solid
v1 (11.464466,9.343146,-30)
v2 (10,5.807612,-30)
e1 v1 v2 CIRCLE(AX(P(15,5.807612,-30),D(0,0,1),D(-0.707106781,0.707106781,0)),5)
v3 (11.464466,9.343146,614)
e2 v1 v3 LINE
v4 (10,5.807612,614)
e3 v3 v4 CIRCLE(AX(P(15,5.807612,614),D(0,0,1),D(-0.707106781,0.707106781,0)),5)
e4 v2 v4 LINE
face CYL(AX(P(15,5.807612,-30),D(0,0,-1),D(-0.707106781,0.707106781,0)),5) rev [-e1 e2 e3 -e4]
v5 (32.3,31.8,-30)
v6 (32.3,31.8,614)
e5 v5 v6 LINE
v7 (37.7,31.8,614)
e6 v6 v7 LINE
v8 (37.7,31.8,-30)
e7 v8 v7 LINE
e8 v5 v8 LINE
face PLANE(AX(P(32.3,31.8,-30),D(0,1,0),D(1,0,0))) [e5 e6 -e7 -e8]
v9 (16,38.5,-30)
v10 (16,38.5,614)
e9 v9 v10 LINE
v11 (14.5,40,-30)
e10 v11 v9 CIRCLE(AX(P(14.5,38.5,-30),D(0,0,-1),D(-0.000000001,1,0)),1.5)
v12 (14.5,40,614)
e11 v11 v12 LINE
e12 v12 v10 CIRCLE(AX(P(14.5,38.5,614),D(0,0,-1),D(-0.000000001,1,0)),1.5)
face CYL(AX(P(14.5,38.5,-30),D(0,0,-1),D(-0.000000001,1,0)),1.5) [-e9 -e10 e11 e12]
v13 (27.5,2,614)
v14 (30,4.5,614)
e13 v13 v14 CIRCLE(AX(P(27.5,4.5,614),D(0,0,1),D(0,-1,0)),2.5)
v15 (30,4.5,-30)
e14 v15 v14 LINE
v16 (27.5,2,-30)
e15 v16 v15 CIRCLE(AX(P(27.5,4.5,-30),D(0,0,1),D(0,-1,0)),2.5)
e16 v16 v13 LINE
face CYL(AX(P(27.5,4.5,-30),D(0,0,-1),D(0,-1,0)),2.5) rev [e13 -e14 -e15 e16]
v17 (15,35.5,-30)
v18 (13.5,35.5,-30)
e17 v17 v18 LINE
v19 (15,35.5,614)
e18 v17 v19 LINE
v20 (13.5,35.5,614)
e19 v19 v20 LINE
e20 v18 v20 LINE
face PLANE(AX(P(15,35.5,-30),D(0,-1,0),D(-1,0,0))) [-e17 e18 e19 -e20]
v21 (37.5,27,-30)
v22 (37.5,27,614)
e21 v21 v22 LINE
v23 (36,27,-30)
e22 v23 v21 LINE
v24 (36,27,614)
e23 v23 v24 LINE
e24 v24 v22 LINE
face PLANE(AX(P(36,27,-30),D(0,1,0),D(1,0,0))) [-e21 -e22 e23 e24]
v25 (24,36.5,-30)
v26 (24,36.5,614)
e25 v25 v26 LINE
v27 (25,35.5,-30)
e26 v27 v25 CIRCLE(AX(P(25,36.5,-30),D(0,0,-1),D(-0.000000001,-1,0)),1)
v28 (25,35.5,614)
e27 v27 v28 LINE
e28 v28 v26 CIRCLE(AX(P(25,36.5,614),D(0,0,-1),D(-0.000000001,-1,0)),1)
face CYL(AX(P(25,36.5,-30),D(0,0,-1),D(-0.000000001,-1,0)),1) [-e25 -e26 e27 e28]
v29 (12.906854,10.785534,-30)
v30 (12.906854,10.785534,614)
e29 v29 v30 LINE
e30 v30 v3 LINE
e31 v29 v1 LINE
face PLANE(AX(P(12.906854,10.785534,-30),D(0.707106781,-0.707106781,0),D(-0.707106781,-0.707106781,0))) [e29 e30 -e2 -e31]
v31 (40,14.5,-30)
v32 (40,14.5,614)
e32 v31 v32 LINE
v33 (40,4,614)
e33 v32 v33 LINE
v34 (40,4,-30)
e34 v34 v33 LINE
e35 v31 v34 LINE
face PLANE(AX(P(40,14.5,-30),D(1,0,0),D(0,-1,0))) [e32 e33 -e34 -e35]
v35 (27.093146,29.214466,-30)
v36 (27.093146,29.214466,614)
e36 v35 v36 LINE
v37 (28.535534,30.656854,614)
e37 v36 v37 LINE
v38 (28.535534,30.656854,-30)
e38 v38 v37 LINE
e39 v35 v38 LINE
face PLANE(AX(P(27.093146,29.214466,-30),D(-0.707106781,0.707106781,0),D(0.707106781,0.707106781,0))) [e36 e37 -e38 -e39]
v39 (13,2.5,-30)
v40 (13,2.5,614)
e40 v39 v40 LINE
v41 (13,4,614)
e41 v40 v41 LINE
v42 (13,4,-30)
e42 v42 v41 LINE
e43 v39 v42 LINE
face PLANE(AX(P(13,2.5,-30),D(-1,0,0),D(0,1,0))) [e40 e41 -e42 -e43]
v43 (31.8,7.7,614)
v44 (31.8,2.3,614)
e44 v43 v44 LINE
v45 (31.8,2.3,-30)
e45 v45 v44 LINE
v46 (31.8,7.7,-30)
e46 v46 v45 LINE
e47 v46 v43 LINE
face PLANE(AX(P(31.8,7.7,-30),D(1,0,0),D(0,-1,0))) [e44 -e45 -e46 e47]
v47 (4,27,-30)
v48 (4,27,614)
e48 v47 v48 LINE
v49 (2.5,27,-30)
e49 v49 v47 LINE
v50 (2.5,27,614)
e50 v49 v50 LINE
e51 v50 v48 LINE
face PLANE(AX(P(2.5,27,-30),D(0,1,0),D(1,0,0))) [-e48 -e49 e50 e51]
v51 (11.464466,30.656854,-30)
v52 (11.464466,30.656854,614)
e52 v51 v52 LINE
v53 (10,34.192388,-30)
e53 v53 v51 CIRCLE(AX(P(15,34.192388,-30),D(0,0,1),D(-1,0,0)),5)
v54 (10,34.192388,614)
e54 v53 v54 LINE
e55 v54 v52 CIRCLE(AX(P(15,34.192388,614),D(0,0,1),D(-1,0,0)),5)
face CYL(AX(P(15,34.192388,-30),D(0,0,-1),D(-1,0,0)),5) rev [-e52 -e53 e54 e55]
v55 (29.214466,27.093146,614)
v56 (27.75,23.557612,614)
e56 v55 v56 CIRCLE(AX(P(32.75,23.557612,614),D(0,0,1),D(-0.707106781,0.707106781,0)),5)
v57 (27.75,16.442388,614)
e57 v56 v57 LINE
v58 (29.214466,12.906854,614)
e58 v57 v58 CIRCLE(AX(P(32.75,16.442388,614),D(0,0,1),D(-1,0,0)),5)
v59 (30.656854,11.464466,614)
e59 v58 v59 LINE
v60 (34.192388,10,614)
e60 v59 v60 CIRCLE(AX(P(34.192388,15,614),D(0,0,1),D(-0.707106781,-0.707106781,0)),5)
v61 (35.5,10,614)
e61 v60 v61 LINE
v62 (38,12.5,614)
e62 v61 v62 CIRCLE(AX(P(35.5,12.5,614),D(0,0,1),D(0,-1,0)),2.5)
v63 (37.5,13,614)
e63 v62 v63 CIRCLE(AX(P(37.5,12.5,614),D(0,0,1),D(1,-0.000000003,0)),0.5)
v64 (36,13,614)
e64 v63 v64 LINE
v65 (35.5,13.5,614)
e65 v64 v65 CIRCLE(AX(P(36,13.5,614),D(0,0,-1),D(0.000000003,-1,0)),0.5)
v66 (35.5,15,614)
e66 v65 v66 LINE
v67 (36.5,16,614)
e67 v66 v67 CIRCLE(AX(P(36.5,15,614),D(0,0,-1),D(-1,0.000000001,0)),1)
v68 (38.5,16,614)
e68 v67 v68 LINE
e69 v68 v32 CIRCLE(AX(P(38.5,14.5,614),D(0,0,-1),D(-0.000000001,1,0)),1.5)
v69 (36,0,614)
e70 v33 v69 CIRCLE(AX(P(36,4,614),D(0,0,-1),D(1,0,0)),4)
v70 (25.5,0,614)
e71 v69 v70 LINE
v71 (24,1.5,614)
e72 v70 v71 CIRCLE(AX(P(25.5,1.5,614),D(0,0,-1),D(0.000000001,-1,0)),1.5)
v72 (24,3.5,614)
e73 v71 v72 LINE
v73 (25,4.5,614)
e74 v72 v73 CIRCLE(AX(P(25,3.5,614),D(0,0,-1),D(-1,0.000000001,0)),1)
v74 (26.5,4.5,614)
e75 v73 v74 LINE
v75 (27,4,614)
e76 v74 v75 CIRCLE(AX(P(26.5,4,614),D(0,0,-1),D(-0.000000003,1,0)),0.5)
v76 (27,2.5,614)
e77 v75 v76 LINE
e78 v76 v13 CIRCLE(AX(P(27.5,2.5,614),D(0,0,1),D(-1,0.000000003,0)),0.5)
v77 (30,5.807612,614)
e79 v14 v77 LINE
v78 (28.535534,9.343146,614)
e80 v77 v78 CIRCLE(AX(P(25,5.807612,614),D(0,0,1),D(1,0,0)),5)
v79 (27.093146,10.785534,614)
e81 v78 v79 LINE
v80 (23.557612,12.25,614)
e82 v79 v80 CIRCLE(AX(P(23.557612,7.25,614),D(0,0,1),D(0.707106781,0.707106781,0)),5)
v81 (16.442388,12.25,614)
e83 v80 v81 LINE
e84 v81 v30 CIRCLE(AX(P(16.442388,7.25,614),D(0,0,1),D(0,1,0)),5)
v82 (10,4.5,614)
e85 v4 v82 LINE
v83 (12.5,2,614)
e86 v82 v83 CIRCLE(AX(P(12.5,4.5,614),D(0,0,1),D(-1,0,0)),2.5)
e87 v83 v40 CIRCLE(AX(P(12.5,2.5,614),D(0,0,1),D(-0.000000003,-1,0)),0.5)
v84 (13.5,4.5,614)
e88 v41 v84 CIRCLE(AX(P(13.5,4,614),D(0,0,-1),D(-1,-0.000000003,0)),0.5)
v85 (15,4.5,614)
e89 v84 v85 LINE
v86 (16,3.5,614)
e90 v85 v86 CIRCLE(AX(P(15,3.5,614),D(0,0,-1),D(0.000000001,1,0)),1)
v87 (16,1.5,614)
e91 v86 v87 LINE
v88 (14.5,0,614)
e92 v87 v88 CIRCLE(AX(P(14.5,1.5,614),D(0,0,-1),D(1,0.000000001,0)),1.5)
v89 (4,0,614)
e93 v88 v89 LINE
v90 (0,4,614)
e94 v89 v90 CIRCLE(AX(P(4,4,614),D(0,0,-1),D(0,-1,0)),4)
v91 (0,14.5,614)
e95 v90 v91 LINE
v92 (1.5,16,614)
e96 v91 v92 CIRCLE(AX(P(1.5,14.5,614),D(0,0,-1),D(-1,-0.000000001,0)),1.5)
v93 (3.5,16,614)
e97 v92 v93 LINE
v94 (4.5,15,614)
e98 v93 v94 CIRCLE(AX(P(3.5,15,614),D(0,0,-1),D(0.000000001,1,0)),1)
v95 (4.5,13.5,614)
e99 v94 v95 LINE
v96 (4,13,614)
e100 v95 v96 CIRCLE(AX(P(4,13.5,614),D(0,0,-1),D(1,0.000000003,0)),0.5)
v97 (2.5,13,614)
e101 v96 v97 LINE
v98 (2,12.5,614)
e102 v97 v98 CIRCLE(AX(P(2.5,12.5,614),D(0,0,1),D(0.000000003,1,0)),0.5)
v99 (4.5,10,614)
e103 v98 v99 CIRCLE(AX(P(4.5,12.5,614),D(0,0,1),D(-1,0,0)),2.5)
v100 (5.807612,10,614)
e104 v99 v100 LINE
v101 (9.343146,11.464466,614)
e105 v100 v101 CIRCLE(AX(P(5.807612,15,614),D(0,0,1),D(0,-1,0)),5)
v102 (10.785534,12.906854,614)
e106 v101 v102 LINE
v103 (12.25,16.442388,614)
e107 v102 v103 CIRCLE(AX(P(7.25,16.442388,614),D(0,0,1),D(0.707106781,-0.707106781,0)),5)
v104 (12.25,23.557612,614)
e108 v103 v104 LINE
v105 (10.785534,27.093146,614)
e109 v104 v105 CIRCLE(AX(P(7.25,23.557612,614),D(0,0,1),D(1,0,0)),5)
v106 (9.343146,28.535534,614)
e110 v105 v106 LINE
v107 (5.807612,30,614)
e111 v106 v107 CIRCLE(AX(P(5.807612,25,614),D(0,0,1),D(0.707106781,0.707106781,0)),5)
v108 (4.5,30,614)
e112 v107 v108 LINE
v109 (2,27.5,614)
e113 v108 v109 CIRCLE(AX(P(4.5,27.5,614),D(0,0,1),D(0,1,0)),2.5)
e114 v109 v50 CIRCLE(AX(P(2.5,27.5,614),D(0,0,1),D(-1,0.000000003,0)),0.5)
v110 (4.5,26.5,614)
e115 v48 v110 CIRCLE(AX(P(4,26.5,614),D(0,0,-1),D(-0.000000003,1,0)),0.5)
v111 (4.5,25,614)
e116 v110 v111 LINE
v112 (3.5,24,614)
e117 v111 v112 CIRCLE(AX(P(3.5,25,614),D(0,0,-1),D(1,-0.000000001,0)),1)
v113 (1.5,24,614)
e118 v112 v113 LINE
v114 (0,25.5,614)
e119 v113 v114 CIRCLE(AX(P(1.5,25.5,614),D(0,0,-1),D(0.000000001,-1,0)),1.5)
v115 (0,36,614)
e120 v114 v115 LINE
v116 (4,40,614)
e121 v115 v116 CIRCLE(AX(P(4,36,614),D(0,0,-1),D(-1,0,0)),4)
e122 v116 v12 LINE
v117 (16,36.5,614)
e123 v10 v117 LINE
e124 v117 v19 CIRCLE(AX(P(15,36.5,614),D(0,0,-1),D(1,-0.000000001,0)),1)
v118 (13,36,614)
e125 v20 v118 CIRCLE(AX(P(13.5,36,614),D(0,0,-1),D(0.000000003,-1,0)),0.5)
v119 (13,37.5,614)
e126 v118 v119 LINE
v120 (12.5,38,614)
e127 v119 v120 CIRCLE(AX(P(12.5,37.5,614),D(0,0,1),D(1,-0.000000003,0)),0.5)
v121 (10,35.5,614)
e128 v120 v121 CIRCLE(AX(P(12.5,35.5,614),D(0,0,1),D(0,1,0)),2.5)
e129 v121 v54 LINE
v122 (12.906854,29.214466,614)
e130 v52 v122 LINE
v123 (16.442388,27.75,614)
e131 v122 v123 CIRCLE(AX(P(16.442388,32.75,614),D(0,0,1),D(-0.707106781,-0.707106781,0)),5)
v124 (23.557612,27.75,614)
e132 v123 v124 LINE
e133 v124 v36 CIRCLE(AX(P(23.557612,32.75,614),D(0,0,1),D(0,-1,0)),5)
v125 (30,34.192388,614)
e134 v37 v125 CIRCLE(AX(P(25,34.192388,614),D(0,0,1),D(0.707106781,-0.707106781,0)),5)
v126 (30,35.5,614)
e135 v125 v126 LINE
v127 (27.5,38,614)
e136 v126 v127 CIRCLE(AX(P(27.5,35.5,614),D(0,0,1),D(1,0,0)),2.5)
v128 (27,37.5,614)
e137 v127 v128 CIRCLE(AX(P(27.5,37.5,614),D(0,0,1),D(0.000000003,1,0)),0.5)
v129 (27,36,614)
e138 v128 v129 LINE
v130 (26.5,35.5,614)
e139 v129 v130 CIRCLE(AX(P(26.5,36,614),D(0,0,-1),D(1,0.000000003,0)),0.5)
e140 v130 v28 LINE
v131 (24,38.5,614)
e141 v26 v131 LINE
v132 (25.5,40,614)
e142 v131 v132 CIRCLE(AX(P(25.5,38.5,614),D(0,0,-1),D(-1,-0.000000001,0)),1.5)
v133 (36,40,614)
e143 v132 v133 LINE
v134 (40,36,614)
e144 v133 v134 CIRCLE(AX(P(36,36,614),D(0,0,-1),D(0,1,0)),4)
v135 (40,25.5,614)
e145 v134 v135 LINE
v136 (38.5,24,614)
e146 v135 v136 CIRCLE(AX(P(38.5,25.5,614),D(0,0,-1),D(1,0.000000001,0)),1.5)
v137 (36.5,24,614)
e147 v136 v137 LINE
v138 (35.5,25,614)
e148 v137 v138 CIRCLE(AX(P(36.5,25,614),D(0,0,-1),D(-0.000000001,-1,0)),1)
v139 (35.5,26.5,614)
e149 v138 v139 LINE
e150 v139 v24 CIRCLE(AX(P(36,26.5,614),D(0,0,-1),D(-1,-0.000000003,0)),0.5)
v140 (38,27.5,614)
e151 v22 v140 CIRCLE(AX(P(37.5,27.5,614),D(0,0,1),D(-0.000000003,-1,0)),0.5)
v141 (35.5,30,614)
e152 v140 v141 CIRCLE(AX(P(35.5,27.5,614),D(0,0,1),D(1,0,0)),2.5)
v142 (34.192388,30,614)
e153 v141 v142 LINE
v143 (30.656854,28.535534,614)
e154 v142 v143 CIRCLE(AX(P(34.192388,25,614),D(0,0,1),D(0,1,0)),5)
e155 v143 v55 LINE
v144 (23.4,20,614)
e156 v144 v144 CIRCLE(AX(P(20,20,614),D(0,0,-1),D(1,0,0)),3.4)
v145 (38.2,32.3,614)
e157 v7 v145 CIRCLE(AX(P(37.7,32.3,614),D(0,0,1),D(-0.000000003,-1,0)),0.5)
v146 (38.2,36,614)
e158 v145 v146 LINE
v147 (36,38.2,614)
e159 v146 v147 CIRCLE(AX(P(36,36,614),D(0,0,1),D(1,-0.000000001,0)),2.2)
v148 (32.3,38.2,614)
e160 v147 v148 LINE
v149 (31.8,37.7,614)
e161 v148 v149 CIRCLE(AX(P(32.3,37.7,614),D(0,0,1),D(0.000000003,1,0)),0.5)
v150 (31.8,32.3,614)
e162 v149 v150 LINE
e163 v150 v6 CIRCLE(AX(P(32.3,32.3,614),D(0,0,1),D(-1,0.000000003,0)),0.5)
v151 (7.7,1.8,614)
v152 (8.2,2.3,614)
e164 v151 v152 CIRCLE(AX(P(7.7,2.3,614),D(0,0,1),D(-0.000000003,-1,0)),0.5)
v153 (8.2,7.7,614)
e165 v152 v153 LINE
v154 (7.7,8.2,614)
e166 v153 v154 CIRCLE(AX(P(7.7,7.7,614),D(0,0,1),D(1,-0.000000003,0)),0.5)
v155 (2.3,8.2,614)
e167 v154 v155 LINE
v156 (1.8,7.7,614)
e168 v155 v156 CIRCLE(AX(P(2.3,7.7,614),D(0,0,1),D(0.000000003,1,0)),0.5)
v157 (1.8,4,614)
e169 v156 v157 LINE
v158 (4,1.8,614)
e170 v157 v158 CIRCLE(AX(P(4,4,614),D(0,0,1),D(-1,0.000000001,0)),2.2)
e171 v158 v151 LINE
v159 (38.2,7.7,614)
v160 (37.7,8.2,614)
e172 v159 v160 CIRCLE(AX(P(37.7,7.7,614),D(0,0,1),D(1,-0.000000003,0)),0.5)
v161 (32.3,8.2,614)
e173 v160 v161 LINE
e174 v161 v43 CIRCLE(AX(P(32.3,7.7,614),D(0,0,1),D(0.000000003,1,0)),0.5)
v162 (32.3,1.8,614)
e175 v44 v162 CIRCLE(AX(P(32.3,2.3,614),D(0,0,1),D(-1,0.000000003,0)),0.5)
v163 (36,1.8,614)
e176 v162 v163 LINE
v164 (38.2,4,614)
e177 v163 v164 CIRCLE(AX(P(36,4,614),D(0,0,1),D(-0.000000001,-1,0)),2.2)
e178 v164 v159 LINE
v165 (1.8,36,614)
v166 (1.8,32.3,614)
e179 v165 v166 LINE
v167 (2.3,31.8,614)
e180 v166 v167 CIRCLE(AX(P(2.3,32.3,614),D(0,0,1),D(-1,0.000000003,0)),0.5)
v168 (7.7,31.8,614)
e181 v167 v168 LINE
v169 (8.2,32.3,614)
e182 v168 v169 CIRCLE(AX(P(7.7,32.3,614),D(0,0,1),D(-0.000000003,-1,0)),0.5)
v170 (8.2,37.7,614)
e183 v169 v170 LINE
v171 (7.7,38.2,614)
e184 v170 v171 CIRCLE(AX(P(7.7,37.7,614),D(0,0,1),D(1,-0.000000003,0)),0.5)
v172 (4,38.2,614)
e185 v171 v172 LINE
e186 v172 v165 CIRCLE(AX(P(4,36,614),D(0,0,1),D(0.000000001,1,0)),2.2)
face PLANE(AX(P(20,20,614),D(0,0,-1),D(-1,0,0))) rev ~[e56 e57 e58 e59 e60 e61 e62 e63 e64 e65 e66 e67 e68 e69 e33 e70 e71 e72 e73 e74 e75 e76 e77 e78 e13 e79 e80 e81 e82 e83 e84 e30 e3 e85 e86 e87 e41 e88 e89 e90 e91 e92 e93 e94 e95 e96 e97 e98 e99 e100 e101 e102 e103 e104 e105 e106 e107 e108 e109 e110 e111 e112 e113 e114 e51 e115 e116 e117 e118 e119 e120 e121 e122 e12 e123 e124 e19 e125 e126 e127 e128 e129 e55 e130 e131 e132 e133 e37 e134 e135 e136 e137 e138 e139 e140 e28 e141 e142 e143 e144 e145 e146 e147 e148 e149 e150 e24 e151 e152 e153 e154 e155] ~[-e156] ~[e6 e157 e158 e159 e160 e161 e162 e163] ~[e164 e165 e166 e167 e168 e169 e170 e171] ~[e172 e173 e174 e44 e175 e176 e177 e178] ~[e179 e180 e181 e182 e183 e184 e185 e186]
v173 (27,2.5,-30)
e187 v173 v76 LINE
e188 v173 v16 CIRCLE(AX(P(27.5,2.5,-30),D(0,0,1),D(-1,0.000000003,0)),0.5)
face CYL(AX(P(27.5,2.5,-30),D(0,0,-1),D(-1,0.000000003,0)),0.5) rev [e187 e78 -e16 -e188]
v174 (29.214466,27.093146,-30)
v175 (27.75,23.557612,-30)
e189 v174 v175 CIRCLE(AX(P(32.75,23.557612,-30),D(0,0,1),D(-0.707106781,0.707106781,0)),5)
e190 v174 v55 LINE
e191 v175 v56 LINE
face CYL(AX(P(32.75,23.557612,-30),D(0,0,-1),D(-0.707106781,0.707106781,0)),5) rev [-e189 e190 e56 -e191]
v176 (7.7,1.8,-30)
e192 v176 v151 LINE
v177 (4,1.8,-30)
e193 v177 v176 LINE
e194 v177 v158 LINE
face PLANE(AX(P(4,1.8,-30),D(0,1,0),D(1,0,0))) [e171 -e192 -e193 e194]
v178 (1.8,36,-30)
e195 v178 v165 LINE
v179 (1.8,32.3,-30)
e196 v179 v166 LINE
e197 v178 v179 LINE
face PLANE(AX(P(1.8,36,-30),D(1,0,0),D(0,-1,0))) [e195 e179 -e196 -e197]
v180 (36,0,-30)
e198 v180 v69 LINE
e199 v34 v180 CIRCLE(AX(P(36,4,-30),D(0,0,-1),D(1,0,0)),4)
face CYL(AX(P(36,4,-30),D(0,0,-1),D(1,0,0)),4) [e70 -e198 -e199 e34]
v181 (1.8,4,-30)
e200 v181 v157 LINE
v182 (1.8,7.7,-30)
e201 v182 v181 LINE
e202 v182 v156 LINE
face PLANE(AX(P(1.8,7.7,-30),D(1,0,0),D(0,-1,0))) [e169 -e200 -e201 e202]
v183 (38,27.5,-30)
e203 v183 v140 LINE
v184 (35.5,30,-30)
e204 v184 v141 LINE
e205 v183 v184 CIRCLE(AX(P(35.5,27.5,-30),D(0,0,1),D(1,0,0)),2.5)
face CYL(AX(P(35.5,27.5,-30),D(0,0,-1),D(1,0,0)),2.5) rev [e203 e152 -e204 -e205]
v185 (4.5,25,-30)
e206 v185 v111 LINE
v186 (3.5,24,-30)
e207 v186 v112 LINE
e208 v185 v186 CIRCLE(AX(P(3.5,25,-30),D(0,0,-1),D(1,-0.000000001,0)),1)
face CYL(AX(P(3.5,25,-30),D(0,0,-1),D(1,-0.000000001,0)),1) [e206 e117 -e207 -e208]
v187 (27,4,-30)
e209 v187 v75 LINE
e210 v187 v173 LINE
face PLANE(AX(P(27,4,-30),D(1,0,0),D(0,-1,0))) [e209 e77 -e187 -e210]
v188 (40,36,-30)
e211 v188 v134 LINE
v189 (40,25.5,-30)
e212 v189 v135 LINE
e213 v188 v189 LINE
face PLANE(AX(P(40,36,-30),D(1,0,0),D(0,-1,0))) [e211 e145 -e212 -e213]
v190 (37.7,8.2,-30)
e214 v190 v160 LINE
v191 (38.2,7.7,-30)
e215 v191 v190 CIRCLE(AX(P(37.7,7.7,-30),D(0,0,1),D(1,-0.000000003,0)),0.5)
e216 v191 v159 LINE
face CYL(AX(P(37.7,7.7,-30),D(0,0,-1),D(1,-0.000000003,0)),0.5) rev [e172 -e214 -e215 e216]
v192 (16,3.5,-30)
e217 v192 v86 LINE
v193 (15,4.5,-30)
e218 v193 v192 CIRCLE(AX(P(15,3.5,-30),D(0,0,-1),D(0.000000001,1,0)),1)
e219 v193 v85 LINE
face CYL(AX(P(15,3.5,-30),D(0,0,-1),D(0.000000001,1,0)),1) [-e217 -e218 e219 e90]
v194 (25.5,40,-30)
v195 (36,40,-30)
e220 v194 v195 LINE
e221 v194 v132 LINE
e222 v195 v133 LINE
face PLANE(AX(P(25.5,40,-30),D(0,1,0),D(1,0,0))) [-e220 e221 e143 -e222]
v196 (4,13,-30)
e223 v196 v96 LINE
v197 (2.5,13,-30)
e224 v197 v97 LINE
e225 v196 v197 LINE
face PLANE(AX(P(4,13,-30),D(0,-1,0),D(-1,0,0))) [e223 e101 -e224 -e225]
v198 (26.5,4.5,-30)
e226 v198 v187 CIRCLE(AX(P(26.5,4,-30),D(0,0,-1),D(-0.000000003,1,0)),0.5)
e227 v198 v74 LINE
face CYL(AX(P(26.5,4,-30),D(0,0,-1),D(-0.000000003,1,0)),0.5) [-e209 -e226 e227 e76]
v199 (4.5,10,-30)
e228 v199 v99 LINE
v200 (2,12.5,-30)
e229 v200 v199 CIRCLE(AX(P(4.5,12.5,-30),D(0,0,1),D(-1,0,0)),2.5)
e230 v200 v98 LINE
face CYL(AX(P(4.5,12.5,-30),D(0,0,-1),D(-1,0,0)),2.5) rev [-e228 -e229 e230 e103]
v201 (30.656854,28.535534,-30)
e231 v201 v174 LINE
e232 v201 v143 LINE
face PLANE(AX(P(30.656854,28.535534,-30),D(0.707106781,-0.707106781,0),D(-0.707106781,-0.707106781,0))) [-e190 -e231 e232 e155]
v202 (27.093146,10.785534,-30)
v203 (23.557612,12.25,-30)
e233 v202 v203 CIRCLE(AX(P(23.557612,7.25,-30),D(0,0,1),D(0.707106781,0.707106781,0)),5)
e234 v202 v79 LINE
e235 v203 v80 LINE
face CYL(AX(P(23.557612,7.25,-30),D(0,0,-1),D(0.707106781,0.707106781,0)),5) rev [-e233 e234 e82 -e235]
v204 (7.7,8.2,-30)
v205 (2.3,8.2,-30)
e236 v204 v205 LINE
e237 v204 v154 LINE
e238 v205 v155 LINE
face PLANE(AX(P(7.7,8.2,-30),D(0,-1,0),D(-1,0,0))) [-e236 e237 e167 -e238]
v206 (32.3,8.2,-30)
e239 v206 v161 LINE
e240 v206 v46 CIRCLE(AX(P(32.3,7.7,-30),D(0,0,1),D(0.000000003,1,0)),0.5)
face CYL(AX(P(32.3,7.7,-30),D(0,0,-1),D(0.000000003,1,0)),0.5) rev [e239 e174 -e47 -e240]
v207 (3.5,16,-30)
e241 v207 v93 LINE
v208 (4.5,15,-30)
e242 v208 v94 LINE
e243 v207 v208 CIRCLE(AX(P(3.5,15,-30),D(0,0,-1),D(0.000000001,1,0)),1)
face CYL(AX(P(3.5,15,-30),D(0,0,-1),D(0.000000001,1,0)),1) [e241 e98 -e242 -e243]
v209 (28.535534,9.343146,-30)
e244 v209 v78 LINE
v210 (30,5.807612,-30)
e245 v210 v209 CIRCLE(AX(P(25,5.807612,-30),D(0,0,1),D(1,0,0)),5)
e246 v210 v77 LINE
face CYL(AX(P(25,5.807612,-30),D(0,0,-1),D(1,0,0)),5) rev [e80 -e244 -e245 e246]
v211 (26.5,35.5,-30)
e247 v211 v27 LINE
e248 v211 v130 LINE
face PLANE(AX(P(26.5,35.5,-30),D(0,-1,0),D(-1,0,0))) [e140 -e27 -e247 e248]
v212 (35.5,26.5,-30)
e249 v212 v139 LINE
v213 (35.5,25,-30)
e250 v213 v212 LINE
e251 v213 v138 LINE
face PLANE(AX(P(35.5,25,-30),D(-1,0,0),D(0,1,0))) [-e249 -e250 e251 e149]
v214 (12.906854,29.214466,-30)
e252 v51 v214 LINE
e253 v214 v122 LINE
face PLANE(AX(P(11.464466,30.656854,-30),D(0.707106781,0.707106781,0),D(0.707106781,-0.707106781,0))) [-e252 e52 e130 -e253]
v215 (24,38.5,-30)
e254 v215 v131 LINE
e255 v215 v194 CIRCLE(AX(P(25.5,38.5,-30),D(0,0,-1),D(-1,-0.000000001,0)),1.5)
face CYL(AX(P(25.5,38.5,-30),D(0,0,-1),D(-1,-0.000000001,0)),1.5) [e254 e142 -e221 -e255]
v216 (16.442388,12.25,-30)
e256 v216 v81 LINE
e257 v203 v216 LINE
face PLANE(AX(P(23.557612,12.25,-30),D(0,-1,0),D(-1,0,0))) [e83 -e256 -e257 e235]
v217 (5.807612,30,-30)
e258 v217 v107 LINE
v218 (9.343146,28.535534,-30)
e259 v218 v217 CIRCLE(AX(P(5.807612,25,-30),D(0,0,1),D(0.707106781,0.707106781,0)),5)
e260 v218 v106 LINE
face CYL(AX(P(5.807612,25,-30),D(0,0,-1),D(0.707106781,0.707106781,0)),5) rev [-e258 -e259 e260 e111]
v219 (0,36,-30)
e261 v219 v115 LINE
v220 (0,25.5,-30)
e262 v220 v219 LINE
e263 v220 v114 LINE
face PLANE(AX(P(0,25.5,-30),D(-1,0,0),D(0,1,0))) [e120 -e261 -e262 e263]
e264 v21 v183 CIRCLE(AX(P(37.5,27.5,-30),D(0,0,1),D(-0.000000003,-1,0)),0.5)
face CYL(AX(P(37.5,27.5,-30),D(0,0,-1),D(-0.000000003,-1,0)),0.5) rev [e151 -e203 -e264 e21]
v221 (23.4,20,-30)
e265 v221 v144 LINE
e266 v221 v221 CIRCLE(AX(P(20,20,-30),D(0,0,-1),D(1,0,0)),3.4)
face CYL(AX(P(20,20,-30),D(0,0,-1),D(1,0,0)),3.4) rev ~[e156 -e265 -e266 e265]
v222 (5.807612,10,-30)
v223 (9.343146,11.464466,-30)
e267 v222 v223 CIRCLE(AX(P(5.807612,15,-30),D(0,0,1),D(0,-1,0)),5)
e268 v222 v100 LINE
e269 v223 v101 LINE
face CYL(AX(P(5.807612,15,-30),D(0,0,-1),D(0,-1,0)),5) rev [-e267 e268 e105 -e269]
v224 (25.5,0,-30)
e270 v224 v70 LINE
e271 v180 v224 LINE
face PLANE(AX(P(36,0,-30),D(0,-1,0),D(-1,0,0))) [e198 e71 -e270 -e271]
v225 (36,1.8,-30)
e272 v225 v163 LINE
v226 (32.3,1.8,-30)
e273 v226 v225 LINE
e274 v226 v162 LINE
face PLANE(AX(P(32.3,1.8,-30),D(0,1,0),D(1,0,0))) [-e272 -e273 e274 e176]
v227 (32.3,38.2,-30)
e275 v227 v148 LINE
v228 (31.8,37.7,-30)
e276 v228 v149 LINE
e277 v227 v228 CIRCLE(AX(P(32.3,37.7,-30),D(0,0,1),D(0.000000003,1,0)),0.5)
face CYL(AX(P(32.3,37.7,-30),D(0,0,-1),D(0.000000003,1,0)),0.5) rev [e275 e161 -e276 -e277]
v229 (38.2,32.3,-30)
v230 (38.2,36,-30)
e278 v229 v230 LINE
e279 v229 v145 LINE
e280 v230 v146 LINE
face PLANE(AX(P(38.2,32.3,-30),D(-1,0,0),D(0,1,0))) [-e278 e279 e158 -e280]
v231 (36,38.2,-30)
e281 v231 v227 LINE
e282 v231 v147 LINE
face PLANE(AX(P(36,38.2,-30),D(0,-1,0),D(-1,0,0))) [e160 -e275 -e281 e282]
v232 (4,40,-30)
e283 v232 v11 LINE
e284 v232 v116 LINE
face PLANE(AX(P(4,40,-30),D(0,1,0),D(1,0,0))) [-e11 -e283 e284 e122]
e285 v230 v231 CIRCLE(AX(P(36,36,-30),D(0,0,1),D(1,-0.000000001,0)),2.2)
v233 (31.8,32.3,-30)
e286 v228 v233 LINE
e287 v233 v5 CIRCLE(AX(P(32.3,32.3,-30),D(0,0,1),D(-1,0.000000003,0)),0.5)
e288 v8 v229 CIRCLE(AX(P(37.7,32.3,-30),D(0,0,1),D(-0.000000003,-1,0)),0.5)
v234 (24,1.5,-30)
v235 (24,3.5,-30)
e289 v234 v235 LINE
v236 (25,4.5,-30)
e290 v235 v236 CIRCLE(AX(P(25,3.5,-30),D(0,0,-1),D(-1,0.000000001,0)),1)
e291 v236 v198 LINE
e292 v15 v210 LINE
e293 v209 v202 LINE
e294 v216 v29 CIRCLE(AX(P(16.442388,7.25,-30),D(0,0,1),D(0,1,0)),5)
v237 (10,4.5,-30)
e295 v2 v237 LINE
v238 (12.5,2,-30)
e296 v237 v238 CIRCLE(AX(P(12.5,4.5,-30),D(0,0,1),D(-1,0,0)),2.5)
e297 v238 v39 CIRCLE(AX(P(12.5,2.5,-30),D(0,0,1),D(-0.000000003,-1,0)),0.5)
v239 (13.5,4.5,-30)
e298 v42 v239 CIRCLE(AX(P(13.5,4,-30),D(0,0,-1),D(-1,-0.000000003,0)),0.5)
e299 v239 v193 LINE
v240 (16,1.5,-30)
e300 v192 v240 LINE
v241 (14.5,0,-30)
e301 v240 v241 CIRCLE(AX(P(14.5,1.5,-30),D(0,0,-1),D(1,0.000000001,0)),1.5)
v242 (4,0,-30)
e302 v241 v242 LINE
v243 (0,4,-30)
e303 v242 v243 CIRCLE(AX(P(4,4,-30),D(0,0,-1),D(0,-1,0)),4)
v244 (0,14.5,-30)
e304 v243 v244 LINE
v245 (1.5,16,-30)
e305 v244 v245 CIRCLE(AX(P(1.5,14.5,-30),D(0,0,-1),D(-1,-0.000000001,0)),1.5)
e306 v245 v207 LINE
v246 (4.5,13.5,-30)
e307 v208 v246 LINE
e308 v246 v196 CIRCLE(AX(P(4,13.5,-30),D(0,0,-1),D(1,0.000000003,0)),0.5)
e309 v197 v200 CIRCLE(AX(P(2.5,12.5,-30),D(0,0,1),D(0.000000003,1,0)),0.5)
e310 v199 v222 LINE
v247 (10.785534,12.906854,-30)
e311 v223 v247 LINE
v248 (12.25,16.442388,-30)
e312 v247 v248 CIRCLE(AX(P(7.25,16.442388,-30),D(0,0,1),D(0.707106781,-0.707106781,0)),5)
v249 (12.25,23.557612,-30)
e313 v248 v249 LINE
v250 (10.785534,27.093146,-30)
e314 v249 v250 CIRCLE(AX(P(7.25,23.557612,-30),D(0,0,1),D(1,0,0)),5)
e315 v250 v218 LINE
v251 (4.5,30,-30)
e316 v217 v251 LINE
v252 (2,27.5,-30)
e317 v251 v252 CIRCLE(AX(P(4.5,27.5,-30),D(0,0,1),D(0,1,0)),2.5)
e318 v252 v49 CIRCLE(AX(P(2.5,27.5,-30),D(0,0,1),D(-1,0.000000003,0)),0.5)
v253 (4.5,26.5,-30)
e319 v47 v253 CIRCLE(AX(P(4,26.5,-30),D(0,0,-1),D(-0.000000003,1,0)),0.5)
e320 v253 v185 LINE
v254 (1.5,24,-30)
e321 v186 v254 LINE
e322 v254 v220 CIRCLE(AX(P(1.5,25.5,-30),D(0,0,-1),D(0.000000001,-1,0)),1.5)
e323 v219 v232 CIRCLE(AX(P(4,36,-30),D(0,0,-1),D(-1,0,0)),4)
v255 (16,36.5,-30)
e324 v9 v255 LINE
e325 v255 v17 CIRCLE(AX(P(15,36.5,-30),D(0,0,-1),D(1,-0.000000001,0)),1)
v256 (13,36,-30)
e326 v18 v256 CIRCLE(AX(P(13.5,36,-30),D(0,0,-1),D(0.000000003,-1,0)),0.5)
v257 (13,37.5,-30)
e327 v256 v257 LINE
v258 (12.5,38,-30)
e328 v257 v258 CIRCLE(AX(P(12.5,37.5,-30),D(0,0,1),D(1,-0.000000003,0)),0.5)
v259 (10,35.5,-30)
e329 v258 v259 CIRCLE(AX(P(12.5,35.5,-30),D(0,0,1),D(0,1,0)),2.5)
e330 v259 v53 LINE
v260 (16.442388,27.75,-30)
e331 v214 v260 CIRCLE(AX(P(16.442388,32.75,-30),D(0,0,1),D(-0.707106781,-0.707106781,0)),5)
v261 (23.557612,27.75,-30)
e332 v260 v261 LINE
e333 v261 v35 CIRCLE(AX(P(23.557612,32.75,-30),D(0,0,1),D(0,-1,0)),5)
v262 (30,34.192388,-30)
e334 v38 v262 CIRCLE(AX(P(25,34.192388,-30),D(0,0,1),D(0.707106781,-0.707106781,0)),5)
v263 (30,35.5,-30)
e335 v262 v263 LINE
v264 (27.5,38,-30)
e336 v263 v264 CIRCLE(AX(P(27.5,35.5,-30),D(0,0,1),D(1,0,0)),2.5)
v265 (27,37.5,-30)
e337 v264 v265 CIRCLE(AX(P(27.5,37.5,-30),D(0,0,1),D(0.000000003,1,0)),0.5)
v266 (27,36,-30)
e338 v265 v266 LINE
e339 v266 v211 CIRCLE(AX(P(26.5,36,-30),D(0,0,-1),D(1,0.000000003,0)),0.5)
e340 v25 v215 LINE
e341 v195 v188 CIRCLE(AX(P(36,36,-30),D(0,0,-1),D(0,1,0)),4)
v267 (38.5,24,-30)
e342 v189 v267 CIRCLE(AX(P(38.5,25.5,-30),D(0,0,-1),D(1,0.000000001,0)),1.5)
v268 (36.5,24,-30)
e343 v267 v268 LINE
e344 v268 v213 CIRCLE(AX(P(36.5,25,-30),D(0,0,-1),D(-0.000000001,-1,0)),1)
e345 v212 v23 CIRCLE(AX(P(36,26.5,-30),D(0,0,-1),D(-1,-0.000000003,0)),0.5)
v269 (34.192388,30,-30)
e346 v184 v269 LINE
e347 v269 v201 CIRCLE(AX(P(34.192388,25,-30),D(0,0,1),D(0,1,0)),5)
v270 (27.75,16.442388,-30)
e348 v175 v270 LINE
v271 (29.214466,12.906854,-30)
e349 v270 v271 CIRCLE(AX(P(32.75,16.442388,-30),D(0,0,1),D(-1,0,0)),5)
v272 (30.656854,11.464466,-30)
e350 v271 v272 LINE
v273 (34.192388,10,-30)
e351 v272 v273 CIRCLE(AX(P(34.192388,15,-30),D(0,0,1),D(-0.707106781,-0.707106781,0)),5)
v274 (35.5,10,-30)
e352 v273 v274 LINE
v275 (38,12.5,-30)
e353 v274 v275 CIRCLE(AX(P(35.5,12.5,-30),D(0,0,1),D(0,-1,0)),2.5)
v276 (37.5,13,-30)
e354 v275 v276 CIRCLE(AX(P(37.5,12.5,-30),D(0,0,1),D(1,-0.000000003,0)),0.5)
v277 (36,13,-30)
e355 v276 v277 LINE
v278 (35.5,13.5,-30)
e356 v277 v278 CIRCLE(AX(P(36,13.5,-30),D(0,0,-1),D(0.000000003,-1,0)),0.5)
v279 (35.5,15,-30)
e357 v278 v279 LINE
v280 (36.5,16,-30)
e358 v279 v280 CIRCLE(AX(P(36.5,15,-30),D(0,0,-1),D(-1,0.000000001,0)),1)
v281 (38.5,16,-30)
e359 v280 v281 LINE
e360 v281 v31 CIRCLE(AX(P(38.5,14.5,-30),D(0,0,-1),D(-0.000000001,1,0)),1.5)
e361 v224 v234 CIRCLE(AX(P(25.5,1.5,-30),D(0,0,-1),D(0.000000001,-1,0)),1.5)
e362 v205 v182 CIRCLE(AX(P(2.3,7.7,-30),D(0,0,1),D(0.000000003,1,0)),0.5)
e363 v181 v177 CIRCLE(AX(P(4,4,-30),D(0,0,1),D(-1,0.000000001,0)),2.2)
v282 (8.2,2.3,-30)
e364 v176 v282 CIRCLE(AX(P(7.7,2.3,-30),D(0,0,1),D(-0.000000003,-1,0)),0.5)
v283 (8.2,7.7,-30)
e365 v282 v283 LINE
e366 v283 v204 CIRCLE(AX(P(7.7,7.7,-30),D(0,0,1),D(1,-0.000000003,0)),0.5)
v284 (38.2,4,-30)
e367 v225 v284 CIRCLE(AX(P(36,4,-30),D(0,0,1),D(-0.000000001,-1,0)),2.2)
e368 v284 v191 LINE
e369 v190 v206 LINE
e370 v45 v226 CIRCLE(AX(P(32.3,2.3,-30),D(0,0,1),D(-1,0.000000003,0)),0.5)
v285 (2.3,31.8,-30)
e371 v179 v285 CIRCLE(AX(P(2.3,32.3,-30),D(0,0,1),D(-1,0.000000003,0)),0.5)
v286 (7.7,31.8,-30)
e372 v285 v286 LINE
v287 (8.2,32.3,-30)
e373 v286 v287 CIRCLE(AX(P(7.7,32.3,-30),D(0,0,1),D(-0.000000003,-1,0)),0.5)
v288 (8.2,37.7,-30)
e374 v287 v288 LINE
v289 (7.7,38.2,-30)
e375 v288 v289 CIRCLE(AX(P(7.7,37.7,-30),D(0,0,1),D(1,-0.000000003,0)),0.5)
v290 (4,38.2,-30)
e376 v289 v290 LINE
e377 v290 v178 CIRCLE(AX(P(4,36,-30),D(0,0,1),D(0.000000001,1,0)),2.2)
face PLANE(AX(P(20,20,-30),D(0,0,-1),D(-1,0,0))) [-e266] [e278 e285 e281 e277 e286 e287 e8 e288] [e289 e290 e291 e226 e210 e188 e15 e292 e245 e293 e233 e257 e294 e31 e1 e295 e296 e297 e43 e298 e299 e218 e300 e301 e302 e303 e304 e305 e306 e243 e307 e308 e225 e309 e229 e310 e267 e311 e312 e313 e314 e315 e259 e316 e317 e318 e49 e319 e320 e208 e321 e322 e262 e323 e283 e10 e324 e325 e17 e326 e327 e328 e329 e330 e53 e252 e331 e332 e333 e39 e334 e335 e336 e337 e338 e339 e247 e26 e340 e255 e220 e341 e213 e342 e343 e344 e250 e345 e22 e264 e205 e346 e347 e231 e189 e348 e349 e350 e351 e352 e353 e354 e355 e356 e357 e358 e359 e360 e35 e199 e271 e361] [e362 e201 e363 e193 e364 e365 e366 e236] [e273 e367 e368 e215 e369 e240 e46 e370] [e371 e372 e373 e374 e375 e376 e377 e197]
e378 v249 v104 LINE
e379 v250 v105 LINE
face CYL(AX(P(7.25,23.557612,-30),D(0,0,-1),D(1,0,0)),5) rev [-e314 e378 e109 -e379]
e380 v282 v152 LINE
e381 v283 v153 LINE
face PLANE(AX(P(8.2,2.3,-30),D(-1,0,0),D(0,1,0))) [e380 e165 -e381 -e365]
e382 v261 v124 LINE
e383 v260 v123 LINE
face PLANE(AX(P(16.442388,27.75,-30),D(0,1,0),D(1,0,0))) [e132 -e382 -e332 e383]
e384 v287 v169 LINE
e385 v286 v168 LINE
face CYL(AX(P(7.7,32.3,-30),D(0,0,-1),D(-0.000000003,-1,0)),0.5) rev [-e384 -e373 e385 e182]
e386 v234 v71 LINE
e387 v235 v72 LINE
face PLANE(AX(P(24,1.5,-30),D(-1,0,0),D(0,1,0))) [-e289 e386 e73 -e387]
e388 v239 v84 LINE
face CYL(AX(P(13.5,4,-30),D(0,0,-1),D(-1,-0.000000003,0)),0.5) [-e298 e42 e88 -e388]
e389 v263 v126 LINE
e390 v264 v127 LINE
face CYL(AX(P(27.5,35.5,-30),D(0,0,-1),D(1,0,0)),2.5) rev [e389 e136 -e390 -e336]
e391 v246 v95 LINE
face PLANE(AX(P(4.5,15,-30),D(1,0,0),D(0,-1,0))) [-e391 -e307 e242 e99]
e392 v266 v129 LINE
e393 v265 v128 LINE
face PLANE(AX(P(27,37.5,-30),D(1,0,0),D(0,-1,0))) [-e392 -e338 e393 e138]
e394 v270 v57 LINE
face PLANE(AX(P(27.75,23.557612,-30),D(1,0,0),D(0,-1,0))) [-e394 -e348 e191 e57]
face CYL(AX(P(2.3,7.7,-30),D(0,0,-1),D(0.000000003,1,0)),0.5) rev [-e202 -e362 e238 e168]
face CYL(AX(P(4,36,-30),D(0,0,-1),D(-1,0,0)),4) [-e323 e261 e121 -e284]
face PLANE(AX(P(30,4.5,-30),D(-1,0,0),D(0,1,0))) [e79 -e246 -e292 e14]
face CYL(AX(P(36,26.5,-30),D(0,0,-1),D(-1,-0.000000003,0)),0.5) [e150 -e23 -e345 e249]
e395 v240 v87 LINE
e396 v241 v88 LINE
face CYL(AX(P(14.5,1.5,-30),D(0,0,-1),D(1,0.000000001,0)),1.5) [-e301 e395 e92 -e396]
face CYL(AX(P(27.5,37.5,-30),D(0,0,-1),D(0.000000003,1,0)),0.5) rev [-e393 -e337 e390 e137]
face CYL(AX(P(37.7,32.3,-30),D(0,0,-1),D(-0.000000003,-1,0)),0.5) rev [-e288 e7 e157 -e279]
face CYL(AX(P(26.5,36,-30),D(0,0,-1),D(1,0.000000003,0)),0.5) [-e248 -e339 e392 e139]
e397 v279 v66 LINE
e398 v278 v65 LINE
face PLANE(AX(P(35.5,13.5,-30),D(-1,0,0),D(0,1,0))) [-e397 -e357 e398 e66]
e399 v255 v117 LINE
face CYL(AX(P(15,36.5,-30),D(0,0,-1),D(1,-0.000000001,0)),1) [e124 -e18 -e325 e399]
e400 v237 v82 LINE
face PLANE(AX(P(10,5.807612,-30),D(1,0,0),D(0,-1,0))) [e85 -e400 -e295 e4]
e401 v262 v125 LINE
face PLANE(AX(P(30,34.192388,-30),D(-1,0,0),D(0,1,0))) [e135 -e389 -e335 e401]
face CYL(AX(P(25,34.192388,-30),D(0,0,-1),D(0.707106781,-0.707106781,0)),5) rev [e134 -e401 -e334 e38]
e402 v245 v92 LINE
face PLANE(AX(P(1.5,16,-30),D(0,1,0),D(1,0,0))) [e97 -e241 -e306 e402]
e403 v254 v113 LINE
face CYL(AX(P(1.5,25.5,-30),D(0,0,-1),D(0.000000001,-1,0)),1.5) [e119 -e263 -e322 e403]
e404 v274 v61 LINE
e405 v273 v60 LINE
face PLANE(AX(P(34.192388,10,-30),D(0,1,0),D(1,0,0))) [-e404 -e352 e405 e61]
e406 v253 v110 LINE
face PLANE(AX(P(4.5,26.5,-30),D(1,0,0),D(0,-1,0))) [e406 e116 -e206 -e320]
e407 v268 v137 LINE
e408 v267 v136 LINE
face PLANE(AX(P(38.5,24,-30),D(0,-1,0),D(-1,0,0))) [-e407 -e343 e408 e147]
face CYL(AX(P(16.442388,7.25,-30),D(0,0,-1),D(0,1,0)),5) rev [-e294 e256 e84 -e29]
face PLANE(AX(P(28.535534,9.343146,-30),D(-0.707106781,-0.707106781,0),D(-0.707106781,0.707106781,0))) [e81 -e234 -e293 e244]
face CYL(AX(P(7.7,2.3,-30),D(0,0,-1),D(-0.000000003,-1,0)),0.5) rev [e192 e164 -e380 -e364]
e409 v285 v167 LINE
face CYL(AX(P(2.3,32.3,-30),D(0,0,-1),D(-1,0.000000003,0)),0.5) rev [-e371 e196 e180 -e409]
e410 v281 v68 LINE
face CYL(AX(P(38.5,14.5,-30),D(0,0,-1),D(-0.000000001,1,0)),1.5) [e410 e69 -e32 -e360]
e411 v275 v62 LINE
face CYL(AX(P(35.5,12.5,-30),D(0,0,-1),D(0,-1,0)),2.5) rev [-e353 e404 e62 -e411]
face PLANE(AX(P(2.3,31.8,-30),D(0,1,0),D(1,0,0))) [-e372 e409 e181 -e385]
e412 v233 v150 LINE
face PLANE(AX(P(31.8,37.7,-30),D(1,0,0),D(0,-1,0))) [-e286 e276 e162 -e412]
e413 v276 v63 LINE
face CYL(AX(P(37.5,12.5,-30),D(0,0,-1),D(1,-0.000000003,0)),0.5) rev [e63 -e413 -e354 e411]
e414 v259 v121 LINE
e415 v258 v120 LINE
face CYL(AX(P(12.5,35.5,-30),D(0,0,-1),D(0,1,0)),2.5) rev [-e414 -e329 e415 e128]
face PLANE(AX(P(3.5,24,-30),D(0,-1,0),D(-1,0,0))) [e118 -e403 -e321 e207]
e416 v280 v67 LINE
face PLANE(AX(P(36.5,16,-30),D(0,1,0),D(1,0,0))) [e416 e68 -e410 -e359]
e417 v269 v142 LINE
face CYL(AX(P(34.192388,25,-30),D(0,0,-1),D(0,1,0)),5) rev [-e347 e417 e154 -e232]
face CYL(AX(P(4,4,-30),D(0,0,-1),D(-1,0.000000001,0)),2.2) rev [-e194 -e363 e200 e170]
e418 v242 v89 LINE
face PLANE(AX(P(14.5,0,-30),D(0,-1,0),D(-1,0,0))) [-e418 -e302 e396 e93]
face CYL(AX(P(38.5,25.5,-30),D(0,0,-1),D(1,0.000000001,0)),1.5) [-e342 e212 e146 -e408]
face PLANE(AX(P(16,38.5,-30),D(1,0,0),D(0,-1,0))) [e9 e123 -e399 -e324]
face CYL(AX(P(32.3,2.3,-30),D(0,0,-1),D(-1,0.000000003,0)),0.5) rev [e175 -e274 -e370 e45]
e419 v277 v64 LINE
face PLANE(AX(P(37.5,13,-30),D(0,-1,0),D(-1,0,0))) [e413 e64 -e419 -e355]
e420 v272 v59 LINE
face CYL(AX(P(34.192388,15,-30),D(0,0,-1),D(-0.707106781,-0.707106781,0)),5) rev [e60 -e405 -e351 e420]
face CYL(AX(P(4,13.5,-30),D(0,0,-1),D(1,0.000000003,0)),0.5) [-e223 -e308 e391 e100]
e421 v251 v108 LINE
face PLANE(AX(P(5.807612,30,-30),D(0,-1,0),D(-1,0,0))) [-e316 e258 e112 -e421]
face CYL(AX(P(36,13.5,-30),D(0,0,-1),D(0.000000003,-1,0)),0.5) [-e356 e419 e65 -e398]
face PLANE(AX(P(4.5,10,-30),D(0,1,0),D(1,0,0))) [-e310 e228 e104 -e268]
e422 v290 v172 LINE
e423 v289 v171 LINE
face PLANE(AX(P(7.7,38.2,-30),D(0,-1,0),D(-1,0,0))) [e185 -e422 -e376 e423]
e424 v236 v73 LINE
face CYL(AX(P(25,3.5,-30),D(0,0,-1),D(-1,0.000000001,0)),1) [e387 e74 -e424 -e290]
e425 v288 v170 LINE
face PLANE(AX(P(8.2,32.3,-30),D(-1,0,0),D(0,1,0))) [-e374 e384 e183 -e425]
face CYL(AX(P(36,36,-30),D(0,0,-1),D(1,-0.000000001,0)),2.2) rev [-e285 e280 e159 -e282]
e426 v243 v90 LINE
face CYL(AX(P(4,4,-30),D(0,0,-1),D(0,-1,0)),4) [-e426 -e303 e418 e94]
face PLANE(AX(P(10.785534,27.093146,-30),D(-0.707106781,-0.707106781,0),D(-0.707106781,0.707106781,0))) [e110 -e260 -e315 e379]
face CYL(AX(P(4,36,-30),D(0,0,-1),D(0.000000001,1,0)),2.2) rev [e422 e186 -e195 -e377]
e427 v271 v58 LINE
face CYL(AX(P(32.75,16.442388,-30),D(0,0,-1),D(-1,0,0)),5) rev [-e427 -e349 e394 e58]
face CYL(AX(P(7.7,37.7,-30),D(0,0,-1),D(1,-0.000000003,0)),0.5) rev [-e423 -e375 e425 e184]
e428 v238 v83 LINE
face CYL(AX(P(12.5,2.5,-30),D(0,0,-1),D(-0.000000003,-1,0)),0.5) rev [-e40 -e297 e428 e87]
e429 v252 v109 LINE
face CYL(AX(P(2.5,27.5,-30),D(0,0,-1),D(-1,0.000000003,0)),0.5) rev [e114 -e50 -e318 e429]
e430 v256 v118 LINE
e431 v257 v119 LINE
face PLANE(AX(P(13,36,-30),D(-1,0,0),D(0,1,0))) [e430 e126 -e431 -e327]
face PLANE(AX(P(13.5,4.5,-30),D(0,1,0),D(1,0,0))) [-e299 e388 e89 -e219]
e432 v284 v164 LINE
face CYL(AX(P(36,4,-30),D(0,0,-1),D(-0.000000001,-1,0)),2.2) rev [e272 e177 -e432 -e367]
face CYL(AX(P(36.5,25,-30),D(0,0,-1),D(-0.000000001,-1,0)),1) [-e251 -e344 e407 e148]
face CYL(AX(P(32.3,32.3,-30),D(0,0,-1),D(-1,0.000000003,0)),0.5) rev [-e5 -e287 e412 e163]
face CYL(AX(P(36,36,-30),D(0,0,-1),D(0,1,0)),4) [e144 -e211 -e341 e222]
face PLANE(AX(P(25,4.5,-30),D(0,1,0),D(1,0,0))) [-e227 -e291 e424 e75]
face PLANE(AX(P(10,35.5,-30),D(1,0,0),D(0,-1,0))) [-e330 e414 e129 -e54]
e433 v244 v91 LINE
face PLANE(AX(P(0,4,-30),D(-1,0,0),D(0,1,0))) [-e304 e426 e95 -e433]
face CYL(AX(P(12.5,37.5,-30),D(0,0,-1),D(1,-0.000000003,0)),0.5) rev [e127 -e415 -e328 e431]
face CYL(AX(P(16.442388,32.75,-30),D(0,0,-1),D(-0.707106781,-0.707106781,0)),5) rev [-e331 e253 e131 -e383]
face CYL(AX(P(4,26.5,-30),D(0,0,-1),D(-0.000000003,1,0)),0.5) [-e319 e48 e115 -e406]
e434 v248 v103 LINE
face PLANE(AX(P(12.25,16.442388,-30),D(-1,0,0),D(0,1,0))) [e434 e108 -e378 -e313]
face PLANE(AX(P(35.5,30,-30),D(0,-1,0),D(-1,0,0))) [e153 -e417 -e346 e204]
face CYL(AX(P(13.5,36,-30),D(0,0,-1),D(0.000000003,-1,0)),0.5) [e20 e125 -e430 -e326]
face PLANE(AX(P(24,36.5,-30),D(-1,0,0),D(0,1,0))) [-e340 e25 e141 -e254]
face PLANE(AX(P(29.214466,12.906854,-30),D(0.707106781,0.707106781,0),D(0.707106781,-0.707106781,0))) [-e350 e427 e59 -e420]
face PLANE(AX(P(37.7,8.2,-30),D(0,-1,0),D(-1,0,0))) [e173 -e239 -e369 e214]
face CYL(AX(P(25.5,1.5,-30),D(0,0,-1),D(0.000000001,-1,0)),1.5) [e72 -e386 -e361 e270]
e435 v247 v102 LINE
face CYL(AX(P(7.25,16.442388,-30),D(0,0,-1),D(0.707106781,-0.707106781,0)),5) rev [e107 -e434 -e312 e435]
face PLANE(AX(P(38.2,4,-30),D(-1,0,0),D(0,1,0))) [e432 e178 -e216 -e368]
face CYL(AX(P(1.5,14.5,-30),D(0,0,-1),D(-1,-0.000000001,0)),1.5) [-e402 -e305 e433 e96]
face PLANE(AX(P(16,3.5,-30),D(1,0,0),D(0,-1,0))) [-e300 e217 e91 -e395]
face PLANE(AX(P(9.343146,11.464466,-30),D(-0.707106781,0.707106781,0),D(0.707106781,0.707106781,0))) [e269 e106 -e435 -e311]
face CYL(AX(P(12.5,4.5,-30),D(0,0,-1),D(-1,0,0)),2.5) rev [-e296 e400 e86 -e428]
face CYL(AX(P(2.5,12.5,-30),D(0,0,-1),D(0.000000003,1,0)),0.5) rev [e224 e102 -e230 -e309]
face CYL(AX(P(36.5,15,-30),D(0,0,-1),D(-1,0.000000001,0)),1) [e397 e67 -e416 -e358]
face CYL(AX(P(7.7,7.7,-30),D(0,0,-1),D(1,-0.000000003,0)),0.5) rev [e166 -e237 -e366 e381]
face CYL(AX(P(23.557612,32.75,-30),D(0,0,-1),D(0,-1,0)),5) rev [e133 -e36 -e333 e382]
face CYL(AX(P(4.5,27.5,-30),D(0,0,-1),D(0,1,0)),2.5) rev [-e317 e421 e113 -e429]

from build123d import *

# Parameters (mm, degrees)
ESQUISSE1_R        = 3.4
BOSS_EXTRU_1_DEPTH = 644


with BuildPart() as part:
    # Esquisse1 → Boss.-Extru.1 (new body)
    with BuildSketch(Plane(origin=(0, 0, -30), x_dir=(-1, 0, 0), z_dir=(0, 0, -1))):
        with BuildLine():
            Line((-4.5, 15), (-4.5, 13.5))
            ThreePointArc((-4.5, 13.5), (-4.353553391, 13.146446609), (-4, 13))
            Line((-4, 13), (-2.5, 13))
            ThreePointArc((-2.5, 13), (-2.146446609, 12.853553391), (-2, 12.5))
            ThreePointArc((-2, 12.5), (-2.732233047, 10.732233047), (-4.5, 10))
            Line((-4.5, 10), (-5.807611845, 10))
            ThreePointArc((-5.807611845, 10), (-7.721029006, 10.380602337), (-9.343145751, 11.464466094))
            Line((-9.343145751, 11.464466094), (-10.785533906, 12.906854249))
            ThreePointArc((-10.785533906, 12.906854249), (-11.869397663, 14.528970994), (-12.25, 16.442388155))
            Line((-12.25, 16.442388155), (-12.25, 23.557611845))
            ThreePointArc((-12.25, 23.557611845), (-11.869397663, 25.471029006), (-10.785533906, 27.093145751))
            Line((-10.785533906, 27.093145751), (-9.343145751, 28.535533906))
            ThreePointArc((-9.343145751, 28.535533906), (-7.721029006, 29.619397663), (-5.807611845, 30))
            Line((-5.807611845, 30), (-4.5, 30))
            ThreePointArc((-4.5, 30), (-2.732233047, 29.267766953), (-2, 27.5))
            ThreePointArc((-2, 27.5), (-2.146446609, 27.146446609), (-2.5, 27))
            Line((-2.5, 27), (-4, 27))
            ThreePointArc((-4, 27), (-4.353553391, 26.853553391), (-4.5, 26.5))
            Line((-4.5, 26.5), (-4.5, 25))
            ThreePointArc((-4.5, 25), (-4.207106781, 24.292893219), (-3.5, 24))
            Line((-3.5, 24), (-1.5, 24))
            ThreePointArc((-1.5, 24), (-0.439339828, 24.439339828), (0, 25.5))
            Line((0, 25.5), (0, 36))
            ThreePointArc((0, 36), (-1.171572875, 38.828427125), (-4, 40))
            Line((-4, 40), (-14.5, 40))
            ThreePointArc((-14.5, 40), (-15.560660172, 39.560660172), (-16, 38.5))
            Line((-16, 38.5), (-16, 36.5))
            ThreePointArc((-16, 36.5), (-15.707106781, 35.792893219), (-15, 35.5))
            Line((-15, 35.5), (-13.5, 35.5))
            ThreePointArc((-13.5, 35.5), (-13.146446609, 35.646446609), (-13, 36))
            Line((-13, 36), (-13, 37.5))
            ThreePointArc((-13, 37.5), (-12.853553391, 37.853553391), (-12.5, 38))
            ThreePointArc((-12.5, 38), (-10.732233047, 37.267766953), (-10, 35.5))
            Line((-10, 35.5), (-10, 34.192388155))
            ThreePointArc((-10, 34.192388155), (-10.380602337, 32.278970994), (-11.464466094, 30.656854249))
            Line((-11.464466094, 30.656854249), (-12.906854249, 29.214466094))
            ThreePointArc((-12.906854249, 29.214466094), (-14.528970994, 28.130602337), (-16.442388155, 27.75))
            Line((-16.442388155, 27.75), (-23.557611845, 27.75))
            ThreePointArc((-23.557611845, 27.75), (-25.471029006, 28.130602337), (-27.093145751, 29.214466094))
            Line((-27.093145751, 29.214466094), (-28.535533906, 30.656854249))
            ThreePointArc((-28.535533906, 30.656854249), (-29.619397663, 32.278970994), (-30, 34.192388155))
            Line((-30, 34.192388155), (-30, 35.5))
            ThreePointArc((-30, 35.5), (-29.267766953, 37.267766953), (-27.5, 38))
            ThreePointArc((-27.5, 38), (-27.146446609, 37.853553391), (-27, 37.5))
            Line((-27, 37.5), (-27, 36))
            ThreePointArc((-27, 36), (-26.853553391, 35.646446609), (-26.5, 35.5))
            Line((-26.5, 35.5), (-25, 35.5))
            ThreePointArc((-25, 35.5), (-24.292893219, 35.792893219), (-24, 36.5))
            Line((-24, 36.5), (-24, 38.5))
            ThreePointArc((-24, 38.5), (-24.439339828, 39.560660172), (-25.5, 40))
            Line((-25.5, 40), (-36, 40))
            ThreePointArc((-36, 40), (-38.828427125, 38.828427125), (-40, 36))
            Line((-40, 36), (-40, 25.5))
            ThreePointArc((-40, 25.5), (-39.560660172, 24.439339828), (-38.5, 24))
            Line((-38.5, 24), (-36.5, 24))
            ThreePointArc((-36.5, 24), (-35.792893219, 24.292893219), (-35.5, 25))
            Line((-35.5, 25), (-35.5, 26.5))
            ThreePointArc((-35.5, 26.5), (-35.646446609, 26.853553391), (-36, 27))
            Line((-36, 27), (-37.5, 27))
            ThreePointArc((-37.5, 27), (-37.853553391, 27.146446609), (-38, 27.5))
            ThreePointArc((-38, 27.5), (-37.267766953, 29.267766953), (-35.5, 30))
            Line((-35.5, 30), (-34.192388155, 30))
            ThreePointArc((-34.192388155, 30), (-32.278970994, 29.619397663), (-30.656854249, 28.535533906))
            Line((-30.656854249, 28.535533906), (-29.214466094, 27.093145751))
            ThreePointArc((-29.214466094, 27.093145751), (-28.130602337, 25.471029006), (-27.75, 23.557611845))
            Line((-27.75, 23.557611845), (-27.75, 16.442388155))
            ThreePointArc((-27.75, 16.442388155), (-28.130602337, 14.528970994), (-29.214466094, 12.906854249))
            Line((-29.214466094, 12.906854249), (-30.656854249, 11.464466094))
            ThreePointArc((-30.656854249, 11.464466094), (-32.278970994, 10.380602337), (-34.192388155, 10))
            Line((-34.192388155, 10), (-35.5, 10))
            ThreePointArc((-35.5, 10), (-37.267766953, 10.732233047), (-38, 12.5))
            ThreePointArc((-38, 12.5), (-37.853553391, 12.853553391), (-37.5, 13))
            Line((-37.5, 13), (-36, 13))
            ThreePointArc((-36, 13), (-35.646446609, 13.146446609), (-35.5, 13.5))
            Line((-35.5, 13.5), (-35.5, 15))
            ThreePointArc((-35.5, 15), (-35.792893219, 15.707106781), (-36.5, 16))
            Line((-36.5, 16), (-38.5, 16))
            ThreePointArc((-38.5, 16), (-39.560660172, 15.560660172), (-40, 14.5))
            Line((-40, 14.5), (-40, 4))
            ThreePointArc((-40, 4), (-38.828427125, 1.171572875), (-36, 0))
            Line((-36, 0), (-25.5, 0))
            ThreePointArc((-25.5, 0), (-24.439339828, 0.439339828), (-24, 1.5))
            Line((-24, 1.5), (-24, 3.5))
            ThreePointArc((-24, 3.5), (-24.292893219, 4.207106781), (-25, 4.5))
            Line((-25, 4.5), (-26.5, 4.5))
            ThreePointArc((-26.5, 4.5), (-26.853553391, 4.353553391), (-27, 4))
            Line((-27, 4), (-27, 2.5))
            ThreePointArc((-27, 2.5), (-27.146446609, 2.146446609), (-27.5, 2))
            ThreePointArc((-27.5, 2), (-29.267766953, 2.732233047), (-30, 4.5))
            Line((-30, 4.5), (-30, 5.807611845))
            ThreePointArc((-30, 5.807611845), (-29.619397663, 7.721029006), (-28.535533906, 9.343145751))
            Line((-28.535533906, 9.343145751), (-27.093145751, 10.785533906))
            ThreePointArc((-27.093145751, 10.785533906), (-25.471029006, 11.869397663), (-23.557611845, 12.25))
            Line((-23.557611845, 12.25), (-16.442388155, 12.25))
            ThreePointArc((-16.442388155, 12.25), (-14.528970994, 11.869397663), (-12.906854249, 10.785533906))
            Line((-12.906854249, 10.785533906), (-11.464466094, 9.343145751))
            ThreePointArc((-11.464466094, 9.343145751), (-10.380602337, 7.721029006), (-10, 5.807611845))
            Line((-10, 5.807611845), (-10, 4.5))
            ThreePointArc((-10, 4.5), (-10.732233047, 2.732233047), (-12.5, 2))
            ThreePointArc((-12.5, 2), (-12.853553391, 2.146446609), (-13, 2.5))
            Line((-13, 2.5), (-13, 4))
            ThreePointArc((-13, 4), (-13.146446609, 4.353553391), (-13.5, 4.5))
            Line((-13.5, 4.5), (-15, 4.5))
            ThreePointArc((-15, 4.5), (-15.707106781, 4.207106781), (-16, 3.5))
            Line((-16, 3.5), (-16, 1.5))
            ThreePointArc((-16, 1.5), (-15.560660172, 0.439339828), (-14.5, 0))
            Line((-14.5, 0), (-4, 0))
            ThreePointArc((-4, 0), (-1.171572875, 1.171572875), (0, 4))
            Line((0, 4), (0, 14.5))
            ThreePointArc((0, 14.5), (-0.439339828, 15.560660172), (-1.5, 16))
            Line((-1.5, 16), (-3.5, 16))
            ThreePointArc((-3.5, 16), (-4.207106781, 15.707106781), (-4.5, 15))
        make_face()
        with Locations(Location((-20, 20, 0), (0, 0, 180))):
            Circle(ESQUISSE1_R, mode=Mode.SUBTRACT)
        with BuildLine():
            Line((-4, 1.8), (-7.7, 1.8))
            ThreePointArc((-7.7, 1.8), (-8.053553391, 1.946446609), (-8.2, 2.3))
            Line((-8.2, 2.3), (-8.2, 7.7))
            ThreePointArc((-8.2, 7.7), (-8.053553391, 8.053553391), (-7.7, 8.2))
            Line((-7.7, 8.2), (-2.3, 8.2))
            ThreePointArc((-2.3, 8.2), (-1.946446609, 8.053553391), (-1.8, 7.7))
            Line((-1.8, 7.7), (-1.8, 4))
            ThreePointArc((-1.8, 4), (-2.444365081, 2.444365081), (-4, 1.8))
        make_face(mode=Mode.SUBTRACT)
        with BuildLine():
            Line((-38.2, 4), (-38.2, 7.7))
            ThreePointArc((-38.2, 7.7), (-38.053553391, 8.053553391), (-37.7, 8.2))
            Line((-37.7, 8.2), (-32.3, 8.2))
            ThreePointArc((-32.3, 8.2), (-31.946446609, 8.053553391), (-31.8, 7.7))
            Line((-31.8, 7.7), (-31.8, 2.3))
            ThreePointArc((-31.8, 2.3), (-31.946446609, 1.946446609), (-32.3, 1.8))
            Line((-32.3, 1.8), (-36, 1.8))
            ThreePointArc((-36, 1.8), (-37.555634919, 2.444365081), (-38.2, 4))
        make_face(mode=Mode.SUBTRACT)
        with BuildLine():
            Line((-36, 38.2), (-32.3, 38.2))
            ThreePointArc((-32.3, 38.2), (-31.946446609, 38.053553391), (-31.8, 37.7))
            Line((-31.8, 37.7), (-31.8, 32.3))
            ThreePointArc((-31.8, 32.3), (-31.946446609, 31.946446609), (-32.3, 31.8))
            Line((-32.3, 31.8), (-37.7, 31.8))
            ThreePointArc((-37.7, 31.8), (-38.053553391, 31.946446609), (-38.2, 32.3))
            Line((-38.2, 32.3), (-38.2, 36))
            ThreePointArc((-38.2, 36), (-37.555634919, 37.555634919), (-36, 38.2))
        make_face(mode=Mode.SUBTRACT)
        with BuildLine():
            Line((-1.8, 36), (-1.8, 32.3))
            ThreePointArc((-1.8, 32.3), (-1.946446609, 31.946446609), (-2.3, 31.8))
            Line((-2.3, 31.8), (-7.7, 31.8))
            ThreePointArc((-7.7, 31.8), (-8.053553391, 31.946446609), (-8.2, 32.3))
            Line((-8.2, 32.3), (-8.2, 37.7))
            ThreePointArc((-8.2, 37.7), (-8.053553391, 38.053553391), (-7.7, 38.2))
            Line((-7.7, 38.2), (-4, 38.2))
            ThreePointArc((-4, 38.2), (-2.444365081, 37.555634919), (-1.8, 36))
        make_face(mode=Mode.SUBTRACT)
    extrude(amount=-BOSS_EXTRU_1_DEPTH)


solid = part.part
